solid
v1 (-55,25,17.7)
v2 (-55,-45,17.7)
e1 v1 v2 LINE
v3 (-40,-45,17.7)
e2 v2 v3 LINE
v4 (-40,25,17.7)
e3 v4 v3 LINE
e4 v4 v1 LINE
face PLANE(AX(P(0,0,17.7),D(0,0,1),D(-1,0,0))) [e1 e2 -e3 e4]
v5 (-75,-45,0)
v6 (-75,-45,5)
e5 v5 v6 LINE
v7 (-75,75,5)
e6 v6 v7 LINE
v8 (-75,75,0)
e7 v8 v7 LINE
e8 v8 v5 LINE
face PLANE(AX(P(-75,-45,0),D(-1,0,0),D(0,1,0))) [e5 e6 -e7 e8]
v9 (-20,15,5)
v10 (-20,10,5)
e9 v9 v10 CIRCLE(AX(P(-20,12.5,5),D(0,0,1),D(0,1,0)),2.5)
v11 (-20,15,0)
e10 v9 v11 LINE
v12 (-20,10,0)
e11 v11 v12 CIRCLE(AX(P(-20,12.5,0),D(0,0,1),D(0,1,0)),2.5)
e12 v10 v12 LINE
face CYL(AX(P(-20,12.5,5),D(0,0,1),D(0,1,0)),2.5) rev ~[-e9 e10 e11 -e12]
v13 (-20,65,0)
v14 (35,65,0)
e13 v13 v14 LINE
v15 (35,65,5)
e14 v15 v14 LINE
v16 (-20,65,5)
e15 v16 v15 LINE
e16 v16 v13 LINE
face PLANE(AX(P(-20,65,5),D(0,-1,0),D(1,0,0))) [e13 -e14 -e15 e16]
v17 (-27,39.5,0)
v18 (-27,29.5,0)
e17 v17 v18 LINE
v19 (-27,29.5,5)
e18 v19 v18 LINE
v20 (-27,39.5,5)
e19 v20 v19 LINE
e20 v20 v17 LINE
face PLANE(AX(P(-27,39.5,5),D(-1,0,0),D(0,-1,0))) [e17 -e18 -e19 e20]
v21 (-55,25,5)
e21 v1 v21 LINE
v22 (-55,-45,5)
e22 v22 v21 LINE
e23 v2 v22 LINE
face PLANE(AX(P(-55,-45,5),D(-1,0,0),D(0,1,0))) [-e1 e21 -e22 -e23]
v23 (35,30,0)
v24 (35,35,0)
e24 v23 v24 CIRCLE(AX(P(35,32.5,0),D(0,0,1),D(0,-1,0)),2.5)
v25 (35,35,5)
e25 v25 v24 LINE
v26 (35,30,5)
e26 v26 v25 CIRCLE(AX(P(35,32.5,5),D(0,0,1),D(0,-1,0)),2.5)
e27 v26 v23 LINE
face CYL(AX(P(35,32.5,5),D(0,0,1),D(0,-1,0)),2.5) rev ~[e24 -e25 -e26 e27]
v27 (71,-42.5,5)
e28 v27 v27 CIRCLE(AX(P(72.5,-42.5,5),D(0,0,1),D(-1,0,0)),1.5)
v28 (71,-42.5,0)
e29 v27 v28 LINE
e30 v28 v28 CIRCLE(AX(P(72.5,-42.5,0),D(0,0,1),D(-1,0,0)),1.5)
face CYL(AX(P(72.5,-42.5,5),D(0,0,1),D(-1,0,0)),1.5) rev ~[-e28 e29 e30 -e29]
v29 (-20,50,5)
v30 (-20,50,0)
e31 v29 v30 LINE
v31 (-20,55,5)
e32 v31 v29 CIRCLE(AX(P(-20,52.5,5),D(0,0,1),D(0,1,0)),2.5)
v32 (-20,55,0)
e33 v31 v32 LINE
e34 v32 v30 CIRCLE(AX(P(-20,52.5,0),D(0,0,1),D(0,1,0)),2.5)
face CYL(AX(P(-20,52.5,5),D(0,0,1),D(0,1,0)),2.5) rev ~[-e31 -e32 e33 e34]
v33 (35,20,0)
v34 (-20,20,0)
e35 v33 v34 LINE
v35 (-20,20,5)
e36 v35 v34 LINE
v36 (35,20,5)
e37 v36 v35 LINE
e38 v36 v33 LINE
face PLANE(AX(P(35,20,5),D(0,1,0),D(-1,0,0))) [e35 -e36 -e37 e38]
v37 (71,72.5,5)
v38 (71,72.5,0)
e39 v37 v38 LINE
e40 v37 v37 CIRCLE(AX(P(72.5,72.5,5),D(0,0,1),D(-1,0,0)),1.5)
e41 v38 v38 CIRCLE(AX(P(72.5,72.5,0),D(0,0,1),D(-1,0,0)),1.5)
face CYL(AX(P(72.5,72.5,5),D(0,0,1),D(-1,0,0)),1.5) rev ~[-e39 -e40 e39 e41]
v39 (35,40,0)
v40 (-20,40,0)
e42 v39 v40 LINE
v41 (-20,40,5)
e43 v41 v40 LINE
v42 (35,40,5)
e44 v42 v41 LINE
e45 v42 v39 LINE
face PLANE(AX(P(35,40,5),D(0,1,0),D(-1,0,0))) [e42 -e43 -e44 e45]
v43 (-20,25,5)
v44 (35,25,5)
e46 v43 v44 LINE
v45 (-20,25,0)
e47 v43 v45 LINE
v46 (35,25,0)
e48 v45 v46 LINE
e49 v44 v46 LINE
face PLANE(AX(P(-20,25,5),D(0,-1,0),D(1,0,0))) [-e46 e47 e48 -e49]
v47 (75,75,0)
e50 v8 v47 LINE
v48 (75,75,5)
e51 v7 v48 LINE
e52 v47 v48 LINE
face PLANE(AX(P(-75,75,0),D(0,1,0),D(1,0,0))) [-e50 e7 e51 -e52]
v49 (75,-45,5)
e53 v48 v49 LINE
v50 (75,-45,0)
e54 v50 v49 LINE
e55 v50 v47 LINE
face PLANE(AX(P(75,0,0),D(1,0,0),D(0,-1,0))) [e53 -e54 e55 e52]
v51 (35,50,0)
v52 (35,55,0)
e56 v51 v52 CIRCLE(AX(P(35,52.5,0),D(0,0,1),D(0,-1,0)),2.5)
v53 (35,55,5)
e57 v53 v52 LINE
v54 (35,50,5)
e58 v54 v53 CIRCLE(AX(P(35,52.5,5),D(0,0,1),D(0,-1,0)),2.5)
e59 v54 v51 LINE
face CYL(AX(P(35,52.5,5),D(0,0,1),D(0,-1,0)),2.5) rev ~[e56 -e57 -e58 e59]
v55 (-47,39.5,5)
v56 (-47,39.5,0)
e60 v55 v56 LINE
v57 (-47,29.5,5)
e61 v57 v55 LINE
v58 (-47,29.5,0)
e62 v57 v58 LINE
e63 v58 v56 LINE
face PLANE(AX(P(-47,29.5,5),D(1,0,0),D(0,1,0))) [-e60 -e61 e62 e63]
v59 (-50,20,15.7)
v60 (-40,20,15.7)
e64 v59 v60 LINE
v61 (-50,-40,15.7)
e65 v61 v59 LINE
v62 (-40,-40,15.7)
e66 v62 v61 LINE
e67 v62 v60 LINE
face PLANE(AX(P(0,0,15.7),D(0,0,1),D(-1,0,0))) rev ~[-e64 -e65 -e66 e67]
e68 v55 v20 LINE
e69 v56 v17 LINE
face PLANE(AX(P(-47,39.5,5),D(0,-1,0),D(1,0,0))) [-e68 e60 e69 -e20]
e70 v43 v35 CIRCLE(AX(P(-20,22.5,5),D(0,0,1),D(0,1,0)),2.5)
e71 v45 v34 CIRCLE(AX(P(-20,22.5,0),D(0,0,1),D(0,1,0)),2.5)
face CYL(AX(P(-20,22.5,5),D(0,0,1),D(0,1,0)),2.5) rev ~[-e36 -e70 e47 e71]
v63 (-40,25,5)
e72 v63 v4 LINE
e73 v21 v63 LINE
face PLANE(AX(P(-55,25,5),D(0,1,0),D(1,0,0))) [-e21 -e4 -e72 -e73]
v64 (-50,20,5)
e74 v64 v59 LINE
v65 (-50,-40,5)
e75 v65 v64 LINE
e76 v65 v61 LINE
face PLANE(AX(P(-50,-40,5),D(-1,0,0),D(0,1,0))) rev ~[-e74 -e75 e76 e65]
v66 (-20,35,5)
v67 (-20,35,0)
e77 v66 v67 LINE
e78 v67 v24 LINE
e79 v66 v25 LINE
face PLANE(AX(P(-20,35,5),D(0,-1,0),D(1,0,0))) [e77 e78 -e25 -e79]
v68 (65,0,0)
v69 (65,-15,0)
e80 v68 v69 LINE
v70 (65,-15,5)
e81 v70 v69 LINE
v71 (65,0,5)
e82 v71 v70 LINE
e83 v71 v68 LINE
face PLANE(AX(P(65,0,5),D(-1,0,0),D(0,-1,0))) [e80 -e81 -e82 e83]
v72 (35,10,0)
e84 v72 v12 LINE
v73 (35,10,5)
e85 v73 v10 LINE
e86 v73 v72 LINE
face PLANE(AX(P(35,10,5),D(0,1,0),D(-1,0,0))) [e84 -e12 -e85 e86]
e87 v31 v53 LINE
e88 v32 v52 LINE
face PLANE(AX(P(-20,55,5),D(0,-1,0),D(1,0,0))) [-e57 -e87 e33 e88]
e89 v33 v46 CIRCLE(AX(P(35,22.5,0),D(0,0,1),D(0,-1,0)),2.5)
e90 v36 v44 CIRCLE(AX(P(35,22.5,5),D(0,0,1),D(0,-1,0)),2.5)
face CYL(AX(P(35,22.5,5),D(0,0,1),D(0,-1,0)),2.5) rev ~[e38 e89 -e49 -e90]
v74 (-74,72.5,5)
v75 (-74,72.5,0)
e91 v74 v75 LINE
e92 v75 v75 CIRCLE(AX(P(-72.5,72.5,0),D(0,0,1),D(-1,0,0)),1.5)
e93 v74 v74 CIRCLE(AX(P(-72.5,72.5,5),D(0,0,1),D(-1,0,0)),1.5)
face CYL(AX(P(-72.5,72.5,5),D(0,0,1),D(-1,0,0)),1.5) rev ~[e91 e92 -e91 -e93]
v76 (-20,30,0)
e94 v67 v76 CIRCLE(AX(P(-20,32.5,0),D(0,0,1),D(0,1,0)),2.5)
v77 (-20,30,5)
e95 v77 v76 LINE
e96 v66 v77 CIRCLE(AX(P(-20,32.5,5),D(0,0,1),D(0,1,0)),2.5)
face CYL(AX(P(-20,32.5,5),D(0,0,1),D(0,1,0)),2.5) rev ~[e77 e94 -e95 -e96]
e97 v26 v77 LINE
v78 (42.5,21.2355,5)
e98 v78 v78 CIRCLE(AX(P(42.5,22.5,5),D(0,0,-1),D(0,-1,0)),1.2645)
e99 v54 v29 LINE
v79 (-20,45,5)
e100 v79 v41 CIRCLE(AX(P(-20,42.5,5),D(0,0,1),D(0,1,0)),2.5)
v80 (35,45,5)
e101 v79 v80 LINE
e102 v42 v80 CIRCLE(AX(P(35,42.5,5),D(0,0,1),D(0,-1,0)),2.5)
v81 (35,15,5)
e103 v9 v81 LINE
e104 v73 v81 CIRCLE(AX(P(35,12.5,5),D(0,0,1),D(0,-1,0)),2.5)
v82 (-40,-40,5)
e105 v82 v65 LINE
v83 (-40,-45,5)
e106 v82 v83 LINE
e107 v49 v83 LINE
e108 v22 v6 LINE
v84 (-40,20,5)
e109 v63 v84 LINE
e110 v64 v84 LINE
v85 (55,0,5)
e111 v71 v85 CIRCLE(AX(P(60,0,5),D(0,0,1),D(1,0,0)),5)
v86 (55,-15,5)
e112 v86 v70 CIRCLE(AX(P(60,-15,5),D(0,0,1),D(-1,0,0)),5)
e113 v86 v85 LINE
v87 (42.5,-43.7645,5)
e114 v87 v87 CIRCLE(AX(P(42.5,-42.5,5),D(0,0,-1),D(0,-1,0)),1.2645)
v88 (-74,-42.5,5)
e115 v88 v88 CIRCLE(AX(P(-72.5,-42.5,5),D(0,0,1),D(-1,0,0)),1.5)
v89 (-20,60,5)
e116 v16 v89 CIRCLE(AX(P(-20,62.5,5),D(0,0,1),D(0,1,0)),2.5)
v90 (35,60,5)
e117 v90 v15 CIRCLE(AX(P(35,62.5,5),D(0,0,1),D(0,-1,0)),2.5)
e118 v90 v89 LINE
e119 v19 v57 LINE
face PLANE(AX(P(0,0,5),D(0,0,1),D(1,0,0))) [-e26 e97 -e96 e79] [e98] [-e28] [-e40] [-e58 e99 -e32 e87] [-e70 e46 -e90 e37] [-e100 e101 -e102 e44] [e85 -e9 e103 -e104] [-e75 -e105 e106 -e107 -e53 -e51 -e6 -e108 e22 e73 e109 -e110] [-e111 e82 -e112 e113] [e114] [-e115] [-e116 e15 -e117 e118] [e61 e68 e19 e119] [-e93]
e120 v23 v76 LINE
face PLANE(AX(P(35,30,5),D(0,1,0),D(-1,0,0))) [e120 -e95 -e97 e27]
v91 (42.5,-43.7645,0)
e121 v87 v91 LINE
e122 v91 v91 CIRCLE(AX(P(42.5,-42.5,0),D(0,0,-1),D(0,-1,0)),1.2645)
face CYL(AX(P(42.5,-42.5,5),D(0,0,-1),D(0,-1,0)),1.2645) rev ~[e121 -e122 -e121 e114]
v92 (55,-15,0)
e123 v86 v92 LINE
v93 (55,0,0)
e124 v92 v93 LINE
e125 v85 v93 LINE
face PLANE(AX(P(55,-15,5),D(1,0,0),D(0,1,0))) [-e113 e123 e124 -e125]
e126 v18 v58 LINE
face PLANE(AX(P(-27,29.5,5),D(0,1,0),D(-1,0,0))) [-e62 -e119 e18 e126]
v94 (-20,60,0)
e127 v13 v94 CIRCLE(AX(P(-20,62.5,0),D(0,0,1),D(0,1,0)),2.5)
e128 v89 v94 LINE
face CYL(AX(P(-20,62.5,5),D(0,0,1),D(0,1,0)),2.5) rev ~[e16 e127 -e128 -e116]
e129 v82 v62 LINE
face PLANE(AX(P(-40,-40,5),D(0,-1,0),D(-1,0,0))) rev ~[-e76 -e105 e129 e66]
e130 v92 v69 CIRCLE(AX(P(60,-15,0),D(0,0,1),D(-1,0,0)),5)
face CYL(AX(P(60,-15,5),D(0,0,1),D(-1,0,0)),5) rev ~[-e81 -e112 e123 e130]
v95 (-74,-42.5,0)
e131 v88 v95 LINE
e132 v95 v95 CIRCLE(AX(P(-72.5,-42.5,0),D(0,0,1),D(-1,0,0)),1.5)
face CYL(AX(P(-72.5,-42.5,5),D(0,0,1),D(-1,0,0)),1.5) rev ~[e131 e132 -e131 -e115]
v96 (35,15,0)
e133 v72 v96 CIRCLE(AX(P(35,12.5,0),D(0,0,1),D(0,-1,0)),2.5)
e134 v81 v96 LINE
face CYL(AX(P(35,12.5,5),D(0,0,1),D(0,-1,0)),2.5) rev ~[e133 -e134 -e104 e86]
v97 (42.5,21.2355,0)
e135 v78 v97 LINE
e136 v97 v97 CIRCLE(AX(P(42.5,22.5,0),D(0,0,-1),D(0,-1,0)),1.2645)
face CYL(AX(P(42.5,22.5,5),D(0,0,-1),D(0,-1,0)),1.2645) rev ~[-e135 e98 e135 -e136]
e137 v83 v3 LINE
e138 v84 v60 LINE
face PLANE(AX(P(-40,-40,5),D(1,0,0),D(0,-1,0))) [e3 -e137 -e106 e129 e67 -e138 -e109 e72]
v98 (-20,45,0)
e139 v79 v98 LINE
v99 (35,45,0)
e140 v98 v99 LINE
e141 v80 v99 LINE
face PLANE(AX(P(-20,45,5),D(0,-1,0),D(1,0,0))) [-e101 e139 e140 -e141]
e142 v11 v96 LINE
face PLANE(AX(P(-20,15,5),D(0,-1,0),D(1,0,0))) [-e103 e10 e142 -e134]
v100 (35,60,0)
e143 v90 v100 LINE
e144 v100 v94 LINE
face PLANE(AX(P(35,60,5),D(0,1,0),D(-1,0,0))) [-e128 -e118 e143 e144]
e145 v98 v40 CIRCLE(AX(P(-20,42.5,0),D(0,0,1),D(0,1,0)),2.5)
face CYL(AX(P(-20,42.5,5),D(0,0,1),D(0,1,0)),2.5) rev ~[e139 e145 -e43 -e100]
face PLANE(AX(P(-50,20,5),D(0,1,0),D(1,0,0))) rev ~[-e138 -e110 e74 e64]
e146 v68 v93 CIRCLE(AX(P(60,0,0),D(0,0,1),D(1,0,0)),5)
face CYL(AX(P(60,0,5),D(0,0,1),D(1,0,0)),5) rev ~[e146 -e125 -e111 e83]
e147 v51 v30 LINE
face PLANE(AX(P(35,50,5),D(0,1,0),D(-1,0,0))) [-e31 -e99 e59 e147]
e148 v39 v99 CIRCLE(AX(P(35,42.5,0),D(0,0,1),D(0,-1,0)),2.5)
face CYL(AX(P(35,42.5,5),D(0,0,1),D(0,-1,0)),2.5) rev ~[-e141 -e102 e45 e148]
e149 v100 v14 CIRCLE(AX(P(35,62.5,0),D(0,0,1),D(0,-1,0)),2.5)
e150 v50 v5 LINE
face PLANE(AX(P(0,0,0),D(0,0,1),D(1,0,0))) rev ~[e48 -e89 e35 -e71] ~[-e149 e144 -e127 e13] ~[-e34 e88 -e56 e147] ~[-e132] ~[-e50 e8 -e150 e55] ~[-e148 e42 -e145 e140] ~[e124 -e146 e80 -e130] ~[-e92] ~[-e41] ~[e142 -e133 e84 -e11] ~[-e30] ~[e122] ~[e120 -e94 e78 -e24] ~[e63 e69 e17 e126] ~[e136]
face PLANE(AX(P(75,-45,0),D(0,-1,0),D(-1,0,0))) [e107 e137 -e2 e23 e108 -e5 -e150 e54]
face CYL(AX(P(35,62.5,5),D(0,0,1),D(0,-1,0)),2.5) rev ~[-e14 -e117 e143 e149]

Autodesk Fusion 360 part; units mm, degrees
sketch "スケッチ1" plane through (0, 0, 0) normal (0, 0, 1) x (1, 0, 0)
  line L0 (75, -45) -> (-75, -45)
  line L1 (-75, -45) -> (-75, 75)
  line L2 (-75, 75) -> (75, 75)
  line L3 (75, 75) -> (75, -45)
  line L4 (-115.7726, 0) -> (130, 0)
  dimension "d1" = 150
  dimension "d41" = 75
  dimension "d42" = 45
extrude "押し出し1" add sketch "スケッチ1" along normal blind 5
sketch "スケッチ2" plane through (0, 0, 5) normal (0, 0, 1) x (-1, 0, 0)
  line L0 (-75, -75) -> (75, -75)
  line L1 (75, -75) -> (75, 45)
  line L2 (75, 45) -> (-75, 45)
  line L3 (-75, 45) -> (-75, -75)
  circle A0 centre (72.5, -72.5) radius 1.5
  line L4 (0, -100) -> (0, -20)
  circle A1 centre (-72.5, -72.5) radius 1.5
  line L5 (50, 0) -> (-80, 0)
  circle A2 centre (72.5, 72.5) radius 1.5
  circle A3 centre (-72.5, 72.5) radius 1.5
  dimension "d5" = 3
  dimension "d6" = 2.5
  dimension "d7" = 2.5
extrude "押し出し2" cut sketch "スケッチ2" against normal blind 5 contours A0 | A1 | A2 | A3
sketch "スケッチ3" plane through (0, 0, 5) normal (0, 0, 1) x (-1, 0, 0)
  circle A0 centre (-72.5, -72.5) radius 1.5
  circle A1 centre (72.5, -72.5) radius 1.5
  line L0 (-75, -75) -> (75, -75)
  line L1 (75, -75) -> (75, 45)
  line L2 (75, 45) -> (-75, 45)
  line L3 (-75, 45) -> (-75, -75)
  line L4 (47, -39.5) -> (27, -39.5)
  line L5 (27, -39.5) -> (27, -29.5)
  line L6 (27, -29.5) -> (47, -29.5)
  line L7 (47, -29.5) -> (47, -39.5)
  dimension "d10" = 28
  dimension "d11" = 45.5
  dimension "d12" = 10
  dimension "d13" = 20
extrude "押し出し3" cut sketch "スケッチ3" against normal blind 5 contours L4 L5 L6 L7
sketch "スケッチ4" plane through (0, 0, 5) normal (0, 0, 1) x (-1, 0, 0)
  line L0 (27, -39.5) -> (27, -29.5)
  line L1 (27, -29.5) -> (47, -29.5)
  line L2 (47, -29.5) -> (47, -39.5)
  line L3 (47, -39.5) -> (27, -39.5)
  circle A0 centre (-72.5, -72.5) radius 1.5
  circle A1 centre (72.5, -72.5) radius 1.5
  line L4 (-75, -75) -> (75, -75)
  line L5 (75, -75) -> (75, 45)
  line L6 (75, 45) -> (-75, 45)
  line L7 (-75, 45) -> (-75, -75)
  line L8 (20, -65) -> (-35, -65)
  line L9 (-35, -60) -> (20, -60)
  line L10 (20, -55) -> (-35, -55)
  line L11 (-35, -50) -> (20, -50)
  line L12 (20, -45) -> (-35, -45)
  line L13 (-35, -40) -> (20, -40)
  line L14 (20, -35) -> (-35, -35)
  line L15 (-35, -30) -> (20, -30)
  line L16 (20, -25) -> (-35, -25)
  line L17 (-35, -20) -> (20, -20)
  line L18 (20, -15) -> (-35, -15)
  line L19 (-35, -10) -> (20, -10)
  arc A2 (20, -65) -> (20, -60) centre (20, -62.5) ccw
  arc A3 (20, -55) -> (20, -50) centre (20, -52.5) ccw
  arc A4 (20, -45) -> (20, -40) centre (20, -42.5) ccw
  arc A5 (20, -35) -> (20, -30) centre (20, -32.5) ccw
  arc A6 (20, -25) -> (20, -20) centre (20, -22.5) ccw
  arc A7 (20, -15) -> (20, -10) centre (20, -12.5) ccw
  arc A8 (-35, -10) -> (-35, -15) centre (-35, -12.5) ccw
  arc A9 (-35, -20) -> (-35, -25) centre (-35, -22.5) ccw
  arc A10 (-35, -30) -> (-35, -35) centre (-35, -32.5) ccw
  arc A11 (-35, -40) -> (-35, -45) centre (-35, -42.5) ccw
  arc A12 (-35, -50) -> (-35, -55) centre (-35, -52.5) ccw
  arc A13 (-35, -60) -> (-35, -65) centre (-35, -62.5) ccw
extrude "押し出し4" cut sketch "スケッチ4" against normal blind 5 contours L8 L9 A2 A13 | L10 L11 A3 A12 | L12 L13 A4 A11 | L14 L15 A5 A10 | L16 L17 A6 A9 | L18 L19 A7 A8
sketch "スケッチ5" plane through (0, 0, 5) normal (0, 0, 1) x (-1, 0, 0)
  line L0 (-35, -30) -> (20, -30)
  arc A0 (20, -35) -> (20, -30) centre (20, -32.5) ccw
  line L1 (20, -35) -> (-35, -35)
  arc A1 (-35, -30) -> (-35, -35) centre (-35, -32.5) ccw
  line L2 (-35, -60) -> (20, -60)
  arc A2 (20, -65) -> (20, -60) centre (20, -62.5) ccw
  line L3 (20, -65) -> (-35, -65)
  arc A3 (-35, -60) -> (-35, -65) centre (-35, -62.5) ccw
  line L4 (-35, -50) -> (20, -50)
  arc A4 (20, -55) -> (20, -50) centre (20, -52.5) ccw
  line L5 (20, -55) -> (-35, -55)
  arc A5 (-35, -50) -> (-35, -55) centre (-35, -52.5) ccw
  line L6 (-35, -20) -> (20, -20)
  arc A6 (20, -25) -> (20, -20) centre (20, -22.5) ccw
  line L7 (20, -25) -> (-35, -25)
  arc A7 (-35, -20) -> (-35, -25) centre (-35, -22.5) ccw
  line L8 (-35, -10) -> (20, -10)
  arc A8 (20, -15) -> (20, -10) centre (20, -12.5) ccw
  line L9 (20, -15) -> (-35, -15)
  arc A9 (-35, -10) -> (-35, -15) centre (-35, -12.5) ccw
  line L10 (-35, -40) -> (20, -40)
  arc A10 (20, -45) -> (20, -40) centre (20, -42.5) ccw
  line L11 (20, -45) -> (-35, -45)
  arc A11 (-35, -40) -> (-35, -45) centre (-35, -42.5) ccw
  line L12 (27, -39.5) -> (27, -29.5)
  line L13 (27, -29.5) -> (47, -29.5)
  line L14 (47, -29.5) -> (47, -39.5)
  line L15 (47, -39.5) -> (27, -39.5)
  circle A12 centre (-72.5, -72.5) radius 1.5
  circle A13 centre (72.5, -72.5) radius 1.5
  line L16 (-75, -75) -> (75, -75)
  line L17 (75, -75) -> (75, 45)
  line L18 (75, 45) -> (-75, 45)
  line L19 (-75, 45) -> (-75, -75)
  line L20 (50, -20) -> (40, -20)
  line L21 (40, 40) -> (50, 40)
  line L22 (50, 40) -> (50, -20)
  line L23 (55, -25) -> (40, -25)
  line L24 (40, 45) -> (55, 45)
  line L25 (55, 45) -> (55, -25)
  line L26 (40, -25) -> (40, -20)
  line L27 (40, 40) -> (40, 45)
  circle A14 centre (-52.5, -22.5) radius 1.5
  circle A15 centre (-52.5, 42.5) radius 1.5
  dimension "d18" = 60
  dimension "d20" = 3
  dimension "d21" = 3
  dimension "d22" = 2.5
  dimension "d25" = 2.5
extrude "押し出し5" add sketch "スケッチ5" along normal blind 10.7 contours L18 L20 L21 L22 L23 L24 L25 L26 L27
sketch "スケッチ7" plane through (0, 0, 15.7) normal (0, 0, 1) x (-1, 0, 0)
  line L0 (50, 40) -> (50, -20)
  line L1 (50, -20) -> (40, -20)
  line L2 (40, -20) -> (40, -25)
  line L3 (40, -25) -> (55, -25)
  line L4 (55, -25) -> (55, 45)
  line L5 (55, 45) -> (40, 45)
  line L6 (40, 45) -> (40, 40)
  line L7 (40, 40) -> (50, 40)
  line L8 (55, -25) -> (40, -25)
  line L9 (40, -25) -> (40, 45)
  line L10 (40, 45) -> (55, 45)
  line L11 (55, 45) -> (55, -25)
extrude "押し出し6" add sketch "スケッチ7" along normal blind 2
sketch "スケッチ8" plane through (0, 0, 5) normal (0, 0, 1) x (-1, 0, 0)
  line L0 (50, 40) -> (40, 40)
  line L1 (40, 40) -> (40, 45)
  line L2 (40, 45) -> (-75, 45)
  line L3 (55, 45) -> (55, -25)
  line L4 (55, -25) -> (40, -25)
  line L5 (40, -25) -> (40, -20)
  line L6 (40, -20) -> (50, -20)
  line L7 (50, -20) -> (50, 40)
  line L8 (-35, -30) -> (20, -30)
  arc A0 (20, -35) -> (20, -30) centre (20, -32.5) ccw
  line L9 (20, -35) -> (-35, -35)
  arc A1 (-35, -30) -> (-35, -35) centre (-35, -32.5) ccw
  line L10 (-35, -60) -> (20, -60)
  arc A2 (20, -65) -> (20, -60) centre (20, -62.5) ccw
  line L11 (20, -65) -> (-35, -65)
  arc A3 (-35, -60) -> (-35, -65) centre (-35, -62.5) ccw
  line L12 (-35, -50) -> (20, -50)
  arc A4 (20, -55) -> (20, -50) centre (20, -52.5) ccw
  line L13 (20, -55) -> (-35, -55)
  arc A5 (-35, -50) -> (-35, -55) centre (-35, -52.5) ccw
  line L14 (-35, -20) -> (20, -20)
  arc A6 (20, -25) -> (20, -20) centre (20, -22.5) ccw
  line L15 (20, -25) -> (-35, -25)
  arc A7 (-35, -20) -> (-35, -25) centre (-35, -22.5) ccw
  line L16 (-35, -10) -> (20, -10)
  arc A8 (20, -15) -> (20, -10) centre (20, -12.5) ccw
  line L17 (20, -15) -> (-35, -15)
  arc A9 (-35, -10) -> (-35, -15) centre (-35, -12.5) ccw
  line L18 (-35, -40) -> (20, -40)
  arc A10 (20, -45) -> (20, -40) centre (20, -42.5) ccw
  line L19 (20, -45) -> (-35, -45)
  arc A11 (-35, -40) -> (-35, -45) centre (-35, -42.5) ccw
  line L20 (27, -39.5) -> (27, -29.5)
  line L21 (27, -29.5) -> (47, -29.5)
  line L22 (47, -29.5) -> (47, -39.5)
  line L23 (47, -39.5) -> (27, -39.5)
  circle A12 centre (-72.5, -72.5) radius 1.5
  circle A13 centre (72.5, -72.5) radius 1.5
  line L24 (-75, -75) -> (75, -75)
  line L25 (75, -75) -> (75, 45)
  line L26 (75, 45) -> (55, 45)
  line L27 (-75, 45) -> (-75, -75)
  line L28 (55, -25) -> (-45, -25)
  line L29 (-45, -25) -> (-45, 45)
  line L30 (-45, 45) -> (55, 45)
  line L31 (55, 45) -> (55, -25)
  circle A14 centre (-42.5, -22.5) radius 1.5
  circle A15 centre (-42.5, 42.5) radius 1.5
  dimension "d30" = 3
  dimension "d31" = 2.5
  dimension "d32" = 2.5
  dimension "d33" = 3
  dimension "d34" = 2.5
  dimension "d35" = 2.5
hole "穴1" at (42.5, 22.5, 5) at (42.5, -42.5, 5) direction (0, 0, -1) diameter 2.529 depth 10 tip angle 118
sketch "スケッチ9" plane through (0, 0, 5) normal (0, 0, 1) x (-1, 0, 0)
  circle A0 centre (-42.5, -22.5) radius 1.2645
  circle A1 centre (-42.5, 42.5) radius 1.2645
  line L0 (50, 40) -> (40, 40)
  line L1 (40, 40) -> (40, 45)
  line L2 (40, 45) -> (-75, 45)
  line L3 (55, 45) -> (55, -25)
  line L4 (55, -25) -> (40, -25)
  line L5 (40, -25) -> (40, -20)
  line L6 (40, -20) -> (50, -20)
  line L7 (50, -20) -> (50, 40)
  line L8 (-35, -30) -> (20, -30)
  arc A2 (20, -35) -> (20, -30) centre (20, -32.5) ccw
  line L9 (20, -35) -> (-35, -35)
  arc A3 (-35, -30) -> (-35, -35) centre (-35, -32.5) ccw
  line L10 (-35, -60) -> (20, -60)
  arc A4 (20, -65) -> (20, -60) centre (20, -62.5) ccw
  line L11 (20, -65) -> (-35, -65)
  arc A5 (-35, -60) -> (-35, -65) centre (-35, -62.5) ccw
  line L12 (-35, -50) -> (20, -50)
  arc A6 (20, -55) -> (20, -50) centre (20, -52.5) ccw
  line L13 (20, -55) -> (-35, -55)
  arc A7 (-35, -50) -> (-35, -55) centre (-35, -52.5) ccw
  line L14 (-35, -20) -> (20, -20)
  arc A8 (20, -25) -> (20, -20) centre (20, -22.5) ccw
  line L15 (20, -25) -> (-35, -25)
  arc A9 (-35, -20) -> (-35, -25) centre (-35, -22.5) ccw
  line L16 (-35, -10) -> (20, -10)
  arc A10 (20, -15) -> (20, -10) centre (20, -12.5) ccw
  line L17 (20, -15) -> (-35, -15)
  arc A11 (-35, -10) -> (-35, -15) centre (-35, -12.5) ccw
  line L18 (-35, -40) -> (20, -40)
  arc A12 (20, -45) -> (20, -40) centre (20, -42.5) ccw
  line L19 (20, -45) -> (-35, -45)
  arc A13 (-35, -40) -> (-35, -45) centre (-35, -42.5) ccw
  line L20 (27, -39.5) -> (27, -29.5)
  line L21 (27, -29.5) -> (47, -29.5)
  line L22 (47, -29.5) -> (47, -39.5)
  line L23 (47, -39.5) -> (27, -39.5)
  circle A14 centre (-72.5, -72.5) radius 1.5
  circle A15 centre (72.5, -72.5) radius 1.5
  line L24 (-75, -75) -> (75, -75)
  line L25 (75, -75) -> (75, 45)
  line L26 (75, 45) -> (55, 45)
  line L27 (-75, 45) -> (-75, -75)
  line L28 (-65, 0) -> (-65, 15)
  line L29 (-55, 15) -> (-55, 0)
  arc A16 (-65, 0) -> (-55, 0) centre (-60, 0) ccw
  arc A17 (-55, 15) -> (-65, 15) centre (-60, 15) ccw
extrude "押し出し7" cut sketch "スケッチ9" against normal blind 5 contours L28 L29 A16 A17
sketch "スケッチ10" plane through (0, 0, 5) normal (0, 0, 1) x (-1, 0, 0)
  line L0 (-55, 15) -> (-55, 0)
  arc A0 (-65, 0) -> (-55, 0) centre (-60, 0) ccw
  line L1 (-65, 0) -> (-65, 15)
  arc A1 (-55, 15) -> (-65, 15) centre (-60, 15) ccw
  circle A2 centre (-42.5, -22.5) radius 1.2645
  circle A3 centre (-42.5, 42.5) radius 1.2645
  line L2 (55, 45) -> (55, -25)
  line L3 (55, -25) -> (40, -25)
  line L4 (40, -25) -> (40, -20)
  line L5 (40, -20) -> (50, -20)
  line L6 (50, -20) -> (50, 40)
  line L7 (50, 40) -> (40, 40)
  line L8 (40, 40) -> (40, 45)
  line L9 (40, 45) -> (-75, 45)
  line L10 (-75, 45) -> (-75, -75)
  line L11 (-75, -75) -> (75, -75)
  line L12 (75, -75) -> (75, 45)
  line L13 (75, 45) -> (55, 45)
  circle A4 centre (72.5, -72.5) radius 1.5
  circle A5 centre (-72.5, -72.5) radius 1.5
  line L14 (27, -39.5) -> (27, -29.5)
  line L15 (27, -29.5) -> (47, -29.5)
  line L16 (47, -29.5) -> (47, -39.5)
  line L17 (47, -39.5) -> (27, -39.5)
  line L18 (-35, -40) -> (20, -40)
  arc A6 (20, -45) -> (20, -40) centre (20, -42.5) ccw
  line L19 (20, -45) -> (-35, -45)
  arc A7 (-35, -40) -> (-35, -45) centre (-35, -42.5) ccw
  line L20 (-35, -10) -> (20, -10)
  arc A8 (20, -15) -> (20, -10) centre (20, -12.5) ccw
  line L21 (20, -15) -> (-35, -15)
  arc A9 (-35, -10) -> (-35, -15) centre (-35, -12.5) ccw
  line L22 (-35, -20) -> (20, -20)
  arc A10 (20, -25) -> (20, -20) centre (20, -22.5) ccw
  line L23 (20, -25) -> (-35, -25)
  arc A11 (-35, -20) -> (-35, -25) centre (-35, -22.5) ccw
  line L24 (-35, -50) -> (20, -50)
  arc A12 (20, -55) -> (20, -50) centre (20, -52.5) ccw
  line L25 (20, -55) -> (-35, -55)
  arc A13 (-35, -50) -> (-35, -55) centre (-35, -52.5) ccw
  line L26 (-35, -60) -> (20, -60)
  arc A14 (20, -65) -> (20, -60) centre (20, -62.5) ccw
  line L27 (20, -65) -> (-35, -65)
  arc A15 (-35, -60) -> (-35, -65) centre (-35, -62.5) ccw
  line L28 (-35, -30) -> (20, -30)
  arc A16 (20, -35) -> (20, -30) centre (20, -32.5) ccw
  line L29 (20, -35) -> (-35, -35)
  arc A17 (-35, -30) -> (-35, -35) centre (-35, -32.5) ccw
  circle A18 centre (72.5, 42.5) radius 1.5
  circle A19 centre (-72.5, 42.5) radius 1.5
  dimension "d43" = 3
  dimension "d44" = 2.5
  dimension "d45" = 2.5
  dimension "d46" = 3
  dimension "d47" = 2.5
  dimension "d48" = 2.5
extrude "押し出し8" cut sketch "スケッチ10" against normal blind 5 contours A18 | A19
equation "d11 = 35 mm + 10.50 mm"
equation "d42 = 75 mm - 30 mm"
